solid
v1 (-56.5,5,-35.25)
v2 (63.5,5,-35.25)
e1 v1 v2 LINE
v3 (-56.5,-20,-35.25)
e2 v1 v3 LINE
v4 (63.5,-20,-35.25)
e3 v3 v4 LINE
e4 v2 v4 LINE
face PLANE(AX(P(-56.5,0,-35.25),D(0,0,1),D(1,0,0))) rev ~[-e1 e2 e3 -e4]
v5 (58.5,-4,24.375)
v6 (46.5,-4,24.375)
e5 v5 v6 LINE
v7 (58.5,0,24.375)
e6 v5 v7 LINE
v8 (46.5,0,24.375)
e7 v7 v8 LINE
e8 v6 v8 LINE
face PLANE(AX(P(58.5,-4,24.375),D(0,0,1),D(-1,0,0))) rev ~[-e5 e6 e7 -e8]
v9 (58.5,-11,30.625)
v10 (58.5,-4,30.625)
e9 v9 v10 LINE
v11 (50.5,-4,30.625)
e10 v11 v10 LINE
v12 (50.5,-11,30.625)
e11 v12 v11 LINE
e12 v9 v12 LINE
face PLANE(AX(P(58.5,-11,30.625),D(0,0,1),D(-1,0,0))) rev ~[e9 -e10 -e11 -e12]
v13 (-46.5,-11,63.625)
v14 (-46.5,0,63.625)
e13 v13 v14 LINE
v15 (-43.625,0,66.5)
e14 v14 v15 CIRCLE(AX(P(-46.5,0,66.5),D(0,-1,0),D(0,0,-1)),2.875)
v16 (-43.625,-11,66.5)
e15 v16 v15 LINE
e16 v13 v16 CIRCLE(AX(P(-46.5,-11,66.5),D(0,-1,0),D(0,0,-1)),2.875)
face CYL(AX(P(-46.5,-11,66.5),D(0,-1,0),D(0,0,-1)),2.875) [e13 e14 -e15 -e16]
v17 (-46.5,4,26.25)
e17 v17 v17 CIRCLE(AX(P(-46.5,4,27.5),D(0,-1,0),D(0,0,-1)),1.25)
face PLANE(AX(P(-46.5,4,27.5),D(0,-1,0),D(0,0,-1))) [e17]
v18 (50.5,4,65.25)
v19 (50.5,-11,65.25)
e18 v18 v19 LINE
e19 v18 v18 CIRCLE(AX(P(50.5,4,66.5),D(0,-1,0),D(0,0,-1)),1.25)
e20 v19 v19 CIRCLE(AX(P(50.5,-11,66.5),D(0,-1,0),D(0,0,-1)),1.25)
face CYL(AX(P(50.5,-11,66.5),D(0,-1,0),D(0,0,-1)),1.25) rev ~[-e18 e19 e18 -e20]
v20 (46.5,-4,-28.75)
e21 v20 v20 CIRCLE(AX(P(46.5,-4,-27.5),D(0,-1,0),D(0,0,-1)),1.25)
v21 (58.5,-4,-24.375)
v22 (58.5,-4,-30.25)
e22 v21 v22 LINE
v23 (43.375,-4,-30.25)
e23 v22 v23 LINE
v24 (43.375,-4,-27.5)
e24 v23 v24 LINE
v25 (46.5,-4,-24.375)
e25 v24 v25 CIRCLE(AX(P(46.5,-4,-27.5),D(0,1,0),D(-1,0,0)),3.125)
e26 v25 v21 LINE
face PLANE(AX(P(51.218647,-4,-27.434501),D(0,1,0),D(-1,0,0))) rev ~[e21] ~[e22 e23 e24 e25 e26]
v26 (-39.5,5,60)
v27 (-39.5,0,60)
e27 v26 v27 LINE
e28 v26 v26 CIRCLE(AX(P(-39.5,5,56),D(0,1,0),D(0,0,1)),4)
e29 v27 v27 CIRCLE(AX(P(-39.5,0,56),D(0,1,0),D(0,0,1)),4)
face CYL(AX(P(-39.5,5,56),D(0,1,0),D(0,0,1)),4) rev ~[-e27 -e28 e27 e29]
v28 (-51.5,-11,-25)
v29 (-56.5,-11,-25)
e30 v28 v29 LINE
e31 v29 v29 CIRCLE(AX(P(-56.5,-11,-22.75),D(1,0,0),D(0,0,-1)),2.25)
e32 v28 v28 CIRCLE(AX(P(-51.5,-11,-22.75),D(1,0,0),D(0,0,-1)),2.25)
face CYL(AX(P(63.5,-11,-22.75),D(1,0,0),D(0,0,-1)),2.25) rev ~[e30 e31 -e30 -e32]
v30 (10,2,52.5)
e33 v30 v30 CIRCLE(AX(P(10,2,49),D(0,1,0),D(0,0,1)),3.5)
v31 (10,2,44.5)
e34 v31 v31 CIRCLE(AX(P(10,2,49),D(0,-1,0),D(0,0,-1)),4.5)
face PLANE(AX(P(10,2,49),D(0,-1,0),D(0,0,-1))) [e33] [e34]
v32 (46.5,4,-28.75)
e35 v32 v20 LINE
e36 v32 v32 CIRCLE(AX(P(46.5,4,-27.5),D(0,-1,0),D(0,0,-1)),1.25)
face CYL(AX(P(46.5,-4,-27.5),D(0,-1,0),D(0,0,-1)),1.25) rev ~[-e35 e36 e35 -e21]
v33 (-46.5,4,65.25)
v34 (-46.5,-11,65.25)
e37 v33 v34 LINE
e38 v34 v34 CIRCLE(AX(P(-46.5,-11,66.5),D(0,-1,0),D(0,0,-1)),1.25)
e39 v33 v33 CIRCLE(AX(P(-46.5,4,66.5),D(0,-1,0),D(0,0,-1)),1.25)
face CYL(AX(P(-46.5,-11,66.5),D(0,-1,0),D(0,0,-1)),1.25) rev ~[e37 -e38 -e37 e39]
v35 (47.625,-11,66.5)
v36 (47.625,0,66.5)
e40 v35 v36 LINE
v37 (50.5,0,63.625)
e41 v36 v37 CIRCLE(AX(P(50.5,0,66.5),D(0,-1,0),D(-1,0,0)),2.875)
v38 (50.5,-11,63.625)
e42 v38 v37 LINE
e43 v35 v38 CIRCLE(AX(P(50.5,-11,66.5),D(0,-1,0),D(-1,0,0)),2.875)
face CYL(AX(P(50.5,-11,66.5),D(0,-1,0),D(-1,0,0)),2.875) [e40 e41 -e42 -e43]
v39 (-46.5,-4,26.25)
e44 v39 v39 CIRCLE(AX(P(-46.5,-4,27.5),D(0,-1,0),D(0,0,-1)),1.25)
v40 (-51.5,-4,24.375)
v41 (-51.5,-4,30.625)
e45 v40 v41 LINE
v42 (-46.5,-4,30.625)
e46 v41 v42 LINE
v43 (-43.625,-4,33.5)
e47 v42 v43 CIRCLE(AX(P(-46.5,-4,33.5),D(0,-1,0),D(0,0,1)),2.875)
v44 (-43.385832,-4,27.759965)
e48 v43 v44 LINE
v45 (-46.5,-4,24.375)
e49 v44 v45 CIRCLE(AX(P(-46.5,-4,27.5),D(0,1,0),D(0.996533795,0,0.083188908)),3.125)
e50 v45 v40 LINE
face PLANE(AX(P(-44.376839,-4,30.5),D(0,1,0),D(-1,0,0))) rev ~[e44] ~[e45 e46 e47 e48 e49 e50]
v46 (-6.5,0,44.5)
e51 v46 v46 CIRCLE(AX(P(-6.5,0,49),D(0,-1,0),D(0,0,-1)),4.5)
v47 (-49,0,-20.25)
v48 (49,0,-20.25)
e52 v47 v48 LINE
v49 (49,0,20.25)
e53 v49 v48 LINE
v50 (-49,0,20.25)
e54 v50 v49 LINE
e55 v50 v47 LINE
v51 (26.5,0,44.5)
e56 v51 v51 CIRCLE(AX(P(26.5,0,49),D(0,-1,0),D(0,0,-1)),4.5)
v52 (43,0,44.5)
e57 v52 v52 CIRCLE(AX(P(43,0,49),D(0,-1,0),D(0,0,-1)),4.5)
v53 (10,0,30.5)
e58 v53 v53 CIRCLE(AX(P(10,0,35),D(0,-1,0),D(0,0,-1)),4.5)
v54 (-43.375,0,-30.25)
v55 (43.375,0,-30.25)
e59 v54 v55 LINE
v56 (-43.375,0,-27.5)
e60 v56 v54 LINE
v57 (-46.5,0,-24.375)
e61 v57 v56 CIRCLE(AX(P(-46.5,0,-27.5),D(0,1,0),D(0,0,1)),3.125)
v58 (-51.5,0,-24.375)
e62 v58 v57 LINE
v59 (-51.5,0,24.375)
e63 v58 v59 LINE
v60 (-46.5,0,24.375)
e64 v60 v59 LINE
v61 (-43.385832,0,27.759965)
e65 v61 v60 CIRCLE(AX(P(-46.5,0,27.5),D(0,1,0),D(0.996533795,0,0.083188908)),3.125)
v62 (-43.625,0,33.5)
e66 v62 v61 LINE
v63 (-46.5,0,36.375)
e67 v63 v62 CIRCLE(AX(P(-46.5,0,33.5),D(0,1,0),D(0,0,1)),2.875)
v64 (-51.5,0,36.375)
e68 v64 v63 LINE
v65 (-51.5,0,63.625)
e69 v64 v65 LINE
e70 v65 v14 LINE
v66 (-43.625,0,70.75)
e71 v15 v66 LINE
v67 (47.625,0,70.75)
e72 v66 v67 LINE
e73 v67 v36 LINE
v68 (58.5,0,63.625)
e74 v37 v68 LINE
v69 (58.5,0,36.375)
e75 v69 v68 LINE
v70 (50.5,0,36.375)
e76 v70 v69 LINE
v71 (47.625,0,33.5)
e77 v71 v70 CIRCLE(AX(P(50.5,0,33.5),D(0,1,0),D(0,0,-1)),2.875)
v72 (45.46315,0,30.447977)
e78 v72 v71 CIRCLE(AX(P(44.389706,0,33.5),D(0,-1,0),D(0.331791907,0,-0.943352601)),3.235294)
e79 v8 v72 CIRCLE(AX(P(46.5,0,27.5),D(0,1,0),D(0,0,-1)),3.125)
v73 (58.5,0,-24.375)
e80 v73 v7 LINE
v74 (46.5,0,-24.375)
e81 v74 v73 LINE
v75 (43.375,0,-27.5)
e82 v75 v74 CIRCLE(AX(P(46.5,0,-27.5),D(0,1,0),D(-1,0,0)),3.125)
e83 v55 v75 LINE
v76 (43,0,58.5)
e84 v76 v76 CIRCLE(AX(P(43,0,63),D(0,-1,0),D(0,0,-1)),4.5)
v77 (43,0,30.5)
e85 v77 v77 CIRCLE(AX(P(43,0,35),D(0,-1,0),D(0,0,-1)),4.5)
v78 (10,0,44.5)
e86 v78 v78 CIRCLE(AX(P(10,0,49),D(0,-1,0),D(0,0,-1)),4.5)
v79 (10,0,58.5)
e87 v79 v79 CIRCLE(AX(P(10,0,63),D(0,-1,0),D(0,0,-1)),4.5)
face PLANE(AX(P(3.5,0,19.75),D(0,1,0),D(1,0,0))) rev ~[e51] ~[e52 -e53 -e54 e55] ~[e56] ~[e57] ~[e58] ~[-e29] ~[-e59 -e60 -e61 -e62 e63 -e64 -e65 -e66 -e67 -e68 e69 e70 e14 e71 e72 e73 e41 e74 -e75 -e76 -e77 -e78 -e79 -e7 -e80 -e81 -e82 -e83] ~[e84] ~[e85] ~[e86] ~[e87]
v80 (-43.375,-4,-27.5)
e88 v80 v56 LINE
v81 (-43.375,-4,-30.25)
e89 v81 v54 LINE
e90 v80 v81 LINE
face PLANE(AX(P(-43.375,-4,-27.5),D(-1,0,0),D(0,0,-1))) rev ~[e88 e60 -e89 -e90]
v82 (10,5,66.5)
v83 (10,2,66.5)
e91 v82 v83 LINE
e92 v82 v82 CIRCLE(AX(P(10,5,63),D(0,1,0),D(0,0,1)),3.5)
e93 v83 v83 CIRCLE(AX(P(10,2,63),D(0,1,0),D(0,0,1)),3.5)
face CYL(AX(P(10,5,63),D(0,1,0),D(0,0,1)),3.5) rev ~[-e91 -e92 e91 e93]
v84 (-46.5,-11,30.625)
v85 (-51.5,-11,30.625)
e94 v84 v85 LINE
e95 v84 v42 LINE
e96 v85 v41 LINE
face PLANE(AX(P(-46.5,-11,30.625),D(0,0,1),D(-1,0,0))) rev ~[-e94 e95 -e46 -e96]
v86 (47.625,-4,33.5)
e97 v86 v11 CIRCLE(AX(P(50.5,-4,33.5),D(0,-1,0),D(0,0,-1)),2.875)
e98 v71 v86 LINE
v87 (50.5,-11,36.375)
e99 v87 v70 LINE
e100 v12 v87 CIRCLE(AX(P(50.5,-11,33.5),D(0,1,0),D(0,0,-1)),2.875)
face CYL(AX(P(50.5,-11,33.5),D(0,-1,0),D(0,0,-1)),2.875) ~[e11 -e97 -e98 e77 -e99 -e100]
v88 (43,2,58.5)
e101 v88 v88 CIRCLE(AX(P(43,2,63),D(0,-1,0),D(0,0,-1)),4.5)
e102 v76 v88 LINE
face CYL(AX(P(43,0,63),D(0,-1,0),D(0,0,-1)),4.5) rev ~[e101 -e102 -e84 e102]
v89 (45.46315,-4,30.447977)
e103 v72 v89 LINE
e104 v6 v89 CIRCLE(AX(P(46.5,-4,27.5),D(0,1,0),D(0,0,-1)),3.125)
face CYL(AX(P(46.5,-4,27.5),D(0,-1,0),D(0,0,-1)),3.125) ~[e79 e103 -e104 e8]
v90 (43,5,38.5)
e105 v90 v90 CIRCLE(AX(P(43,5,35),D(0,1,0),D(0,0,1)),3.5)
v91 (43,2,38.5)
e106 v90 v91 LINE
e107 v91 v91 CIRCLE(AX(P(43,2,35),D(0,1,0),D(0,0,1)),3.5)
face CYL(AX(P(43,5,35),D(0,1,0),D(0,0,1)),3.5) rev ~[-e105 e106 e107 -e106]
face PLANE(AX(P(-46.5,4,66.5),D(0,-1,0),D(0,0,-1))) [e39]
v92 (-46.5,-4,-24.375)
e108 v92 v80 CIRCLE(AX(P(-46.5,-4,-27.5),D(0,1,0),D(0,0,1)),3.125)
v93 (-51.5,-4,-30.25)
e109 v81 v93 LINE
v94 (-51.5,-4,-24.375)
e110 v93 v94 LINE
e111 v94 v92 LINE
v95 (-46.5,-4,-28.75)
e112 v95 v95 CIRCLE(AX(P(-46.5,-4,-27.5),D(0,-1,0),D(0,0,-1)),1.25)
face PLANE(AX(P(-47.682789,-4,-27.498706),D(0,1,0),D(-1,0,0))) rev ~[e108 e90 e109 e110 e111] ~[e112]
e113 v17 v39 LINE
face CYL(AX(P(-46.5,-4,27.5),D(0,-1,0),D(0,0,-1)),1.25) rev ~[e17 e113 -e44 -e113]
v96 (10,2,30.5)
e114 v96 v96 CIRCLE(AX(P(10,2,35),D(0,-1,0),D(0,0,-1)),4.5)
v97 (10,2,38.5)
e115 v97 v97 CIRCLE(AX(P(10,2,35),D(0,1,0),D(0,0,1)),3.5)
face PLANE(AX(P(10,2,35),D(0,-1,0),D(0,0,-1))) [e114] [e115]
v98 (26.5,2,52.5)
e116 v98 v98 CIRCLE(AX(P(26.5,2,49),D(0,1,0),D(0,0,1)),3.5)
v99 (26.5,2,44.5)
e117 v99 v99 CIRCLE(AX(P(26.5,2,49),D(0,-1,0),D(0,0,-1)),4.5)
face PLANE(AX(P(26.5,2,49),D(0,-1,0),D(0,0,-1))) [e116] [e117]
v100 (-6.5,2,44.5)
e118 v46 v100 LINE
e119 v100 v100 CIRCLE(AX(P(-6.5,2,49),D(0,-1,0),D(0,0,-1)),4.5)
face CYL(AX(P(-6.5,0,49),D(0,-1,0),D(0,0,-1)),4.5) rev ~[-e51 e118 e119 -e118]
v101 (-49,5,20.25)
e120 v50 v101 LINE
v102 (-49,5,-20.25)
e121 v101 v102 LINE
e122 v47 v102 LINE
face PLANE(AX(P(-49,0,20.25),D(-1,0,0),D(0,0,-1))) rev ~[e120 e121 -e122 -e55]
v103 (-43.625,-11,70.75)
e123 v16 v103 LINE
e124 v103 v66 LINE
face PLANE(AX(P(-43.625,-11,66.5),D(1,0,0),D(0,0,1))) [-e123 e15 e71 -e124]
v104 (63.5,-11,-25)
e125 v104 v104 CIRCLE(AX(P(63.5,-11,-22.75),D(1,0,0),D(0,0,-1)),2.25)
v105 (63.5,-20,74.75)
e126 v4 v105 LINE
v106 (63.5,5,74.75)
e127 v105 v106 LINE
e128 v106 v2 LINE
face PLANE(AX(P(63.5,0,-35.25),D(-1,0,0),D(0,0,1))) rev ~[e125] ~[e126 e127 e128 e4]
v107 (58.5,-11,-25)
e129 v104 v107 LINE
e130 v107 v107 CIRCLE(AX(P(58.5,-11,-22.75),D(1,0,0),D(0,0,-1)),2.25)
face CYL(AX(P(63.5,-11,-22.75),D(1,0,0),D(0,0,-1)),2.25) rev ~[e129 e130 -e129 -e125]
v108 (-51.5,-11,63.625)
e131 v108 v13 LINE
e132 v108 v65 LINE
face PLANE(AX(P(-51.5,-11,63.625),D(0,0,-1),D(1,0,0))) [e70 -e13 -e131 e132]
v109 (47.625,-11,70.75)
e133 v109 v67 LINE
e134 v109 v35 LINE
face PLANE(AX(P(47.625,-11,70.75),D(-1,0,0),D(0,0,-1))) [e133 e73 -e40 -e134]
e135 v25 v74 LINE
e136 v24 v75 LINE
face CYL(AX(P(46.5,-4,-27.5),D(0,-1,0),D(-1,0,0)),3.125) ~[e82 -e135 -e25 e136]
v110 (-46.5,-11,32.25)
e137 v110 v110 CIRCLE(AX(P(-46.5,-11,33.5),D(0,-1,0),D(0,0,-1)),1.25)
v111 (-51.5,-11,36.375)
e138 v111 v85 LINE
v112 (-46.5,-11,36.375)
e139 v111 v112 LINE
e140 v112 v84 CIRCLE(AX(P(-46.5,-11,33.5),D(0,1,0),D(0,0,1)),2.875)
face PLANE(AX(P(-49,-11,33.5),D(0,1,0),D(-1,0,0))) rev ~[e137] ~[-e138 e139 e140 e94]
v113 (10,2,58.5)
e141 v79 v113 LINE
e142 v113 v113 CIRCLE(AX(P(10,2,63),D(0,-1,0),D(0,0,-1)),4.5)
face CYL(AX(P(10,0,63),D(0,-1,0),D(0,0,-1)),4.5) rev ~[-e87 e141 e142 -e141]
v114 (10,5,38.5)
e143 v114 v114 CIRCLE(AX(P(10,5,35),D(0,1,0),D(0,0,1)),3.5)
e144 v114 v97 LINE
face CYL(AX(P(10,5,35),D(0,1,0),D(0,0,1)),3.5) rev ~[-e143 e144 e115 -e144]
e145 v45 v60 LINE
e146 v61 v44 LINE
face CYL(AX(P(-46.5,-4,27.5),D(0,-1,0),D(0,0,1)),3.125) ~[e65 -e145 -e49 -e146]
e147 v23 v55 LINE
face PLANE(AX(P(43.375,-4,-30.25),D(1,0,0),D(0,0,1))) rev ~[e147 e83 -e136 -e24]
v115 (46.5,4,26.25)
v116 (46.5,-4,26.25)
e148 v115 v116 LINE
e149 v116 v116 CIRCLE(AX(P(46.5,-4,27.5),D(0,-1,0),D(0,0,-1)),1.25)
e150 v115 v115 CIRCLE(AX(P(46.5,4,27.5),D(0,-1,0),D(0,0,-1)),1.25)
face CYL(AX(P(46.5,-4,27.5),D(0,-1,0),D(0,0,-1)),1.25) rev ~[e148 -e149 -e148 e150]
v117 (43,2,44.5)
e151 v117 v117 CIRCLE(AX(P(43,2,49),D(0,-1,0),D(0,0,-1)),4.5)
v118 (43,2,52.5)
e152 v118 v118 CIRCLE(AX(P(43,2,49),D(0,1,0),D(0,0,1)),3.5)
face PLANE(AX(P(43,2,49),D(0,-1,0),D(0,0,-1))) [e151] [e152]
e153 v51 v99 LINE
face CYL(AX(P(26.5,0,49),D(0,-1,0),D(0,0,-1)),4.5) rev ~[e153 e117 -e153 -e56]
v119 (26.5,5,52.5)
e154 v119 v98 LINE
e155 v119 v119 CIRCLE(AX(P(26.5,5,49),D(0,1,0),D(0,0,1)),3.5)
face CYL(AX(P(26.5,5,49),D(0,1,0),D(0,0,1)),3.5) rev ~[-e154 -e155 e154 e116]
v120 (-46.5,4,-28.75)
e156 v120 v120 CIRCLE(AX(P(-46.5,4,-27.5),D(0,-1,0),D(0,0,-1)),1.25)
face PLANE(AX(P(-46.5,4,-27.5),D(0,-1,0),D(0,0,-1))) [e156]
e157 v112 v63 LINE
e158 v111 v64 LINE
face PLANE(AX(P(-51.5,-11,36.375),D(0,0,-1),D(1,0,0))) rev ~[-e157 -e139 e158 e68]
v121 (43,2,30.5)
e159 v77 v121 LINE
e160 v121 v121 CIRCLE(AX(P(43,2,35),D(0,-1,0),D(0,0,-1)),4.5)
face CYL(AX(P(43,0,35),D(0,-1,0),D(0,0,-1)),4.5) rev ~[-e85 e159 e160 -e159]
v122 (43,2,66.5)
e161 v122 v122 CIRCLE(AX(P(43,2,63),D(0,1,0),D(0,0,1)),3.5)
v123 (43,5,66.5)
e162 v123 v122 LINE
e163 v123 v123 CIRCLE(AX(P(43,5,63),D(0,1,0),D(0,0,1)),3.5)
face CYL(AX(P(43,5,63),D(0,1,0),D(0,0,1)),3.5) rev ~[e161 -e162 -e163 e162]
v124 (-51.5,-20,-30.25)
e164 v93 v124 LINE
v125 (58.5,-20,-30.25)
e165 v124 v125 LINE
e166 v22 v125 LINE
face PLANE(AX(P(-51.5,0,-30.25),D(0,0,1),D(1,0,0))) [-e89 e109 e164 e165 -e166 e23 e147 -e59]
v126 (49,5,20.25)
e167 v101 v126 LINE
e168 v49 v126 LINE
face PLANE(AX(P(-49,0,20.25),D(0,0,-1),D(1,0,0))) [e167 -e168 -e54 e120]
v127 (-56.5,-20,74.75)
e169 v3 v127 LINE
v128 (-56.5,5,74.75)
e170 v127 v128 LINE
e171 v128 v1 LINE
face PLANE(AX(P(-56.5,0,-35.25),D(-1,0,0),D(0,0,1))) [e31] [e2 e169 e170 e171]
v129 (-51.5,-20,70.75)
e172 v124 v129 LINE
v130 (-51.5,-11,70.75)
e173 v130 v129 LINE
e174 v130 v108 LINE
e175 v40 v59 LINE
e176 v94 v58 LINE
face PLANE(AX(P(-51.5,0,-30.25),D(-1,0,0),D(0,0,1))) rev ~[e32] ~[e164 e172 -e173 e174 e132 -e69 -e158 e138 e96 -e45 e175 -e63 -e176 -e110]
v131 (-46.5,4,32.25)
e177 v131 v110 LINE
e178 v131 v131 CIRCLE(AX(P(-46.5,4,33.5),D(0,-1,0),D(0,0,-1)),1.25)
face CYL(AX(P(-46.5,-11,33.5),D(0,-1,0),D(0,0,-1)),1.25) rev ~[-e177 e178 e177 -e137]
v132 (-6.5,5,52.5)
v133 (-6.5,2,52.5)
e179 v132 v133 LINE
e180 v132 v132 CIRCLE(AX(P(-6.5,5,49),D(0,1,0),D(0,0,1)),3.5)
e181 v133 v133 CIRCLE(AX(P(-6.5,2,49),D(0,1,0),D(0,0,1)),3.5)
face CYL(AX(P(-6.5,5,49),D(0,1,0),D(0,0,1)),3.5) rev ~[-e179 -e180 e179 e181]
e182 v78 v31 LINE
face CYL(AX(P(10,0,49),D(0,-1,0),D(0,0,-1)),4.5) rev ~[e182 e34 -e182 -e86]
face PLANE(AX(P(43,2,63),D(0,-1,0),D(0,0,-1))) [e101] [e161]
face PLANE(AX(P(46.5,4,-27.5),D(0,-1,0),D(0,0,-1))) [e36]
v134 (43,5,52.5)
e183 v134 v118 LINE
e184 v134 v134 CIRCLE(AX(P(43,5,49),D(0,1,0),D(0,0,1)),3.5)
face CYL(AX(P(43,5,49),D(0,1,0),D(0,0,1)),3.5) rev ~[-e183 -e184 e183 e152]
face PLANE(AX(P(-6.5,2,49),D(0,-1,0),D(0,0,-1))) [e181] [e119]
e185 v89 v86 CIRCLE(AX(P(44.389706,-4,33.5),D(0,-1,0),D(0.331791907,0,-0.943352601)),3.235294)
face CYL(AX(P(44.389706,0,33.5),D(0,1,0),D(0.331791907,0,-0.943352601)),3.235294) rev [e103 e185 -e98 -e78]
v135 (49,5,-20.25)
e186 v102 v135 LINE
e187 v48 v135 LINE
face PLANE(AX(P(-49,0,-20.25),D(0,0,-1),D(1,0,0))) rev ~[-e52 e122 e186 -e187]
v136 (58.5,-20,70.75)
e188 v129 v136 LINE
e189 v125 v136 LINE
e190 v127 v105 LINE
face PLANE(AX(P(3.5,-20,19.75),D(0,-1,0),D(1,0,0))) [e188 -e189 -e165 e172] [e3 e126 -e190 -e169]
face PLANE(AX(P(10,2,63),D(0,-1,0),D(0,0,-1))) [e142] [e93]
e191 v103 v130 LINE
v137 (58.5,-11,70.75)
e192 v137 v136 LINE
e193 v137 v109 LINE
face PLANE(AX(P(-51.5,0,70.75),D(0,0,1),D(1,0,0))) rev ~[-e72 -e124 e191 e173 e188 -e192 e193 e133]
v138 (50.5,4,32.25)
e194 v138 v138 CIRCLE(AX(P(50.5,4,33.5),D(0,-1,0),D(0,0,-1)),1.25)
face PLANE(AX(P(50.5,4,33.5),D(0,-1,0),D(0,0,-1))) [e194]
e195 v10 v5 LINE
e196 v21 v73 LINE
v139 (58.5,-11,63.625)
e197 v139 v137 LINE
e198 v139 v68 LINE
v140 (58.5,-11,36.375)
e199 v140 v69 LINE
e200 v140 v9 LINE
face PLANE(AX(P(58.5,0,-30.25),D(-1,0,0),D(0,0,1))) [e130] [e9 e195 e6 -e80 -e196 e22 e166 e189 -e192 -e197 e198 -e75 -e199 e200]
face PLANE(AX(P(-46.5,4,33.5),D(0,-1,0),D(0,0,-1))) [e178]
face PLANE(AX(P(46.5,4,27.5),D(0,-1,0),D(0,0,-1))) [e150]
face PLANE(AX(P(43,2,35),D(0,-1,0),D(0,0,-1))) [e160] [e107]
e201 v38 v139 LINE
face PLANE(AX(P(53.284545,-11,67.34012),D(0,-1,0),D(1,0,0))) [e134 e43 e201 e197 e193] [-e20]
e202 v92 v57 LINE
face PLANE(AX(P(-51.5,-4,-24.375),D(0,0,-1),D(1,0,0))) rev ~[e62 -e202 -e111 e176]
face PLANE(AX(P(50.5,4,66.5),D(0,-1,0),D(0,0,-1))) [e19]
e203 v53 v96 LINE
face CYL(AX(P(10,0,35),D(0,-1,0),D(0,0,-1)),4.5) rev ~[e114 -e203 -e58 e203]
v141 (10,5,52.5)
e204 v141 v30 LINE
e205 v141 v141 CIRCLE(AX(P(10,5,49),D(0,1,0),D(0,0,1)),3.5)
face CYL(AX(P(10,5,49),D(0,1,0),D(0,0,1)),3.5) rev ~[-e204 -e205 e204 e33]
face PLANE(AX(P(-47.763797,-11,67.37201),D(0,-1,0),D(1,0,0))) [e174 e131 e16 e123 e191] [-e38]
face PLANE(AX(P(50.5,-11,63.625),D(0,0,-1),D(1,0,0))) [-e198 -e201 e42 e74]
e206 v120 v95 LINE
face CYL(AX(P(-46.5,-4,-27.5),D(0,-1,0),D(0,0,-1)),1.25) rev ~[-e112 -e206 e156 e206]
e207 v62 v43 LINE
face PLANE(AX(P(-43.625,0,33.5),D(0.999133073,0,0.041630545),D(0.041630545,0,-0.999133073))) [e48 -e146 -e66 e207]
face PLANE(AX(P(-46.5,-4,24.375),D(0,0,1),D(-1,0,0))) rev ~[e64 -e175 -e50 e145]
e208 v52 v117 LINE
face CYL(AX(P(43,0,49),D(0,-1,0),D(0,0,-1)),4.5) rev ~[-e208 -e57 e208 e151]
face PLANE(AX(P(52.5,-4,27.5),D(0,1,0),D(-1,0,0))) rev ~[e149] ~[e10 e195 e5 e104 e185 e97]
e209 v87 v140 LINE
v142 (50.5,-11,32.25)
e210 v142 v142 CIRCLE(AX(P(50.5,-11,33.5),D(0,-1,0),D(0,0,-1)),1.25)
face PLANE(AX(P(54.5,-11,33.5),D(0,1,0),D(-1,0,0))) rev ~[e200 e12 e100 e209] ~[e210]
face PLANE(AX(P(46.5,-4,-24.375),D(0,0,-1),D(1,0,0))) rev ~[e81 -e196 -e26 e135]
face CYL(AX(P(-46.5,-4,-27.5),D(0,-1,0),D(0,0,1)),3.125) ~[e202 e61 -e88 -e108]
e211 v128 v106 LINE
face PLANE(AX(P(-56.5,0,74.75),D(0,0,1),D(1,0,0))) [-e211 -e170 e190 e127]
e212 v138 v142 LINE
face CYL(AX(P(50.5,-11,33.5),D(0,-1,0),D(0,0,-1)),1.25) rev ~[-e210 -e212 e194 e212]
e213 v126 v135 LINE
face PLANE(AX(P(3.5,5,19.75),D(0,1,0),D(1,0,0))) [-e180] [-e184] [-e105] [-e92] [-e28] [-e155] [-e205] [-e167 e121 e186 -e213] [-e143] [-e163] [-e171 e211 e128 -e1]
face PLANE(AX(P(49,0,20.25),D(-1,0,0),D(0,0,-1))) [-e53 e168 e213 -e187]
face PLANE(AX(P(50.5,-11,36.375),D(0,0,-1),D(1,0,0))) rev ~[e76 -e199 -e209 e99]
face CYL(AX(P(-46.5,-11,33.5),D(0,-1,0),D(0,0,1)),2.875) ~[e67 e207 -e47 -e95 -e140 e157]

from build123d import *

# Parameters (mm, degrees)
SKETCH1_W           = 120
SKETCH1_H           = 110
SKETCH1_W_2         = 98
SKETCH1_H_2         = 40.5
BOSS_EXTRUDE1_DEPTH = 5
SKETCH2_R           = 1.25
CUT_EXTRUDE1_DEPTH  = 4
SKETCH3_R           = 3.5
CUT_EXTRUDE2_DEPTH  = 99.208006293
SKETCH4_R           = 4
CUT_EXTRUDE3_DEPTH  = 99.208006293
SKETCH5_R           = 4.5
CUT_EXTRUDE4_DEPTH  = 2
SKETCH6_W           = 120
SKETCH6_H           = 110
SKETCH6_W_2         = 110
SKETCH6_H_2         = 101
BOSS_EXTRUDE3_DEPTH = 20
SKETCH7_R           = 2.25
CUT_EXTRUDE5_DEPTH  = 143.785021974
BOSS_EXTRUDE5_START = 4
SKETCH9_R           = 1.25
BOSS_EXTRUDE5_DEPTH = 4
BOSS_EXTRUDE6_START = 11
SKETCH10_R          = 1.25
BOSS_EXTRUDE6_DEPTH = 11
BOSS_EXTRUDE7_DEPTH = 4


with BuildPart() as part:
    # Sketch1 → Boss-Extrude1 (new body)
    with BuildSketch(Plane(origin=(0, 0, 0), x_dir=(1, 0, 0), z_dir=(0, 1, 0))):
        with Locations((3.5, -19.75)):
            Rectangle(SKETCH1_W, SKETCH1_H)
        Rectangle(SKETCH1_W_2, SKETCH1_H_2, mode=Mode.SUBTRACT)
    extrude(amount=BOSS_EXTRUDE1_DEPTH)

    # Sketch2 → Cut-Extrude1 (cut)
    with BuildSketch(Plane.XZ):
        with Locations(Location((-46.5, 27.5, 0), (0, 0, 270))):
            Circle(SKETCH2_R)
        with Locations(Location((46.5, 27.5, 0), (0, 0, 270))):
            Circle(SKETCH2_R)
        with Locations(Location((46.5, -27.5, 0), (0, 0, 270))):
            Circle(SKETCH2_R)
        with Locations(Location((-46.5, -27.5, 0), (0, 0, 270))):
            Circle(SKETCH2_R)
        with Locations(Location((-46.5, 33.5, 0), (0, 0, 270))):
            Circle(SKETCH2_R)
        with Locations(Location((50.5, 33.5, 0), (0, 0, 270))):
            Circle(SKETCH2_R)
        with Locations(Location((50.5, 66.5, 0), (0, 0, 270))):
            Circle(SKETCH2_R)
        with Locations(Location((-46.5, 66.5, 0), (0, 0, 270))):
            Circle(SKETCH2_R)
    extrude(amount=-CUT_EXTRUDE1_DEPTH, mode=Mode.SUBTRACT)

    # Sketch3 → Cut-Extrude2 (cut, through all)
    with BuildSketch(Plane(origin=(0, 5, 0), x_dir=(1, 0, 0), z_dir=(0, 1, 0))):
        with Locations(Location((43, -35, 0), (0, 0, 270))):
            Circle(SKETCH3_R)
        with Locations(Location((43, -49, 0), (0, 0, 270))):
            Circle(SKETCH3_R)
        with Locations(Location((43, -63, 0), (0, 0, 270))):
            Circle(SKETCH3_R)
        with Locations(Location((26.5, -49, 0), (0, 0, 270))):
            Circle(SKETCH3_R)
        with Locations(Location((10, -49, 0), (0, 0, 270))):
            Circle(SKETCH3_R)
        with Locations(Location((10, -35, 0), (0, 0, 270))):
            Circle(SKETCH3_R)
        with Locations(Location((10, -63, 0), (0, 0, 270))):
            Circle(SKETCH3_R)
        with Locations(Location((-6.5, -49, 0), (0, 0, 270))):
            Circle(SKETCH3_R)
    extrude(amount=-CUT_EXTRUDE2_DEPTH, mode=Mode.SUBTRACT)

    # Sketch4 → Cut-Extrude3 (cut, through all)
    with BuildSketch(Plane(origin=(0, 5, 0), x_dir=(1, 0, 0), z_dir=(0, 1, 0))):
        with Locations(Location((-39.5, -56, 0), (0, 0, 270))):
            Circle(SKETCH4_R)
    extrude(amount=-CUT_EXTRUDE3_DEPTH, mode=Mode.SUBTRACT)

    # Sketch5 → Cut-Extrude4 (cut)
    with BuildSketch(Plane.XZ):
        with Locations(Location((43, 63, 0), (0, 0, 270))):
            Circle(SKETCH5_R)
        with Locations(Location((43, 49, 0), (0, 0, 270))):
            Circle(SKETCH5_R)
        with Locations(Location((43, 35, 0), (0, 0, 270))):
            Circle(SKETCH5_R)
        with Locations(Location((26.5, 49, 0), (0, 0, 270))):
            Circle(SKETCH5_R)
        with Locations(Location((10, 49, 0), (0, 0, 270))):
            Circle(SKETCH5_R)
        with Locations(Location((10, 35, 0), (0, 0, 270))):
            Circle(SKETCH5_R)
        with Locations(Location((-6.5, 49, 0), (0, 0, 270))):
            Circle(SKETCH5_R)
        with Locations(Location((10, 63, 0), (0, 0, 270))):
            Circle(SKETCH5_R)
    extrude(amount=-CUT_EXTRUDE4_DEPTH, mode=Mode.SUBTRACT)

    # Sketch6 → Boss-Extrude3 (add)
    with BuildSketch(Plane.XZ):
        with Locations((3.5, 19.75)):
            Rectangle(SKETCH6_W, SKETCH6_H)
        with Locations((3.5, 20.25)):
            Rectangle(SKETCH6_W_2, SKETCH6_H_2, mode=Mode.SUBTRACT)
    extrude(amount=BOSS_EXTRUDE3_DEPTH)

    # Sketch7 → Cut-Extrude5 (cut, through all)
    with BuildSketch(Plane(origin=(63.5, 0, 0), x_dir=(0, 0, -1), z_dir=(1, 0, 0))):
        with Locations((22.75, -11)):
            Circle(SKETCH7_R)
    extrude(amount=-CUT_EXTRUDE5_DEPTH, mode=Mode.SUBTRACT)

    # Sketch9 → Boss-Extrude5 (add)
    # profile 1 of 4: a face of its own
    with BuildSketch(Plane.XZ.offset(BOSS_EXTRUDE5_START)):
        with BuildLine():
            Line((-51.5, 30.625), (-46.5, 30.625))
            ThreePointArc((-46.5, 30.625), (-43.375, 27.5), (-46.5, 24.375))
            Line((-46.5, 24.375), (-51.5, 24.375))
            Line((-51.5, 24.375), (-51.5, 30.625))
        make_face()
        with Locations(Location((-46.5, 27.5, 0), (0, 0, 270))):
            Circle(SKETCH9_R, mode=Mode.SUBTRACT)
    # profile 2 of 4: a face of its own
    with BuildSketch(Plane.XZ.offset(BOSS_EXTRUDE5_START)):
        with BuildLine():
            Line((46.5, 30.625), (58.5, 30.625))
            ThreePointArc((58.5, 30.625), (61.625, 27.5), (58.5, 24.375))
            Line((58.5, 24.375), (46.5, 24.375))
            ThreePointArc((46.5, 24.375), (43.375, 27.5), (46.5, 30.625))
        make_face()
        with Locations(Location((46.5, 27.5, 0), (0, 0, 270))):
            Circle(SKETCH9_R, mode=Mode.SUBTRACT)
    # profile 3 of 4: a face of its own
    with BuildSketch(Plane.XZ.offset(BOSS_EXTRUDE5_START)):
        with BuildLine():
            Line((-51.5, -24.375), (-46.5, -24.375))
            ThreePointArc((-46.5, -24.375), (-44.290291309, -25.290291309), (-43.375, -27.5))
            Line((-43.375, -27.5), (-43.375, -30.25))
            Line((-43.375, -30.25), (-51.5, -30.25))
            Line((-51.5, -30.25), (-51.5, -24.375))
        make_face()
        with Locations(Location((-46.5, -27.5, 0), (0, 0, 270))):
            Circle(SKETCH9_R, mode=Mode.SUBTRACT)
    # profile 4 of 4: a face of its own
    with BuildSketch(Plane.XZ.offset(BOSS_EXTRUDE5_START)):
        with BuildLine():
            Line((43.375, -30.25), (43.375, -27.5))
            ThreePointArc((43.375, -27.5), (44.290291309, -25.290291309), (46.5, -24.375))
            Line((46.5, -24.375), (58.5, -24.375))
            Line((58.5, -24.375), (58.5, -30.25))
            Line((58.5, -30.25), (43.375, -30.25))
        make_face()
        with Locations(Location((46.5, -27.5, 0), (0, 0, 270))):
            Circle(SKETCH9_R, mode=Mode.SUBTRACT)
    extrude(amount=-BOSS_EXTRUDE5_DEPTH)

    # Sketch10 → Boss-Extrude6 (add)
    # profile 1 of 4: a face of its own
    with BuildSketch(Plane.XZ.offset(BOSS_EXTRUDE6_START)):
        with BuildLine():
            Line((-46.5, 30.625), (-51.5, 30.625))
            ThreePointArc((-51.5, 30.625), (-54.375, 33.5), (-51.5, 36.375))
            Line((-51.5, 36.375), (-46.5, 36.375))
            ThreePointArc((-46.5, 36.375), (-43.625, 33.5), (-46.5, 30.625))
        make_face()
        with Locations(Location((-46.5, 33.5, 0), (0, 0, 270))):
            Circle(SKETCH10_R, mode=Mode.SUBTRACT)
    # profile 2 of 4: a face of its own
    with BuildSketch(Plane.XZ.offset(BOSS_EXTRUDE6_START)):
        with BuildLine():
            Line((50.5, 36.375), (58.5, 36.375))
            ThreePointArc((58.5, 36.375), (61.375, 33.5), (58.5, 30.625))
            Line((58.5, 30.625), (50.5, 30.625))
            ThreePointArc((50.5, 30.625), (47.625, 33.5), (50.5, 36.375))
        make_face()
        with Locations(Location((50.5, 33.5, 0), (0, 0, 270))):
            Circle(SKETCH10_R, mode=Mode.SUBTRACT)
    # profile 3 of 4: a face of its own
    with BuildSketch(Plane.XZ.offset(BOSS_EXTRUDE6_START)):
        with BuildLine():
            Line((-51.5, 63.625), (-46.5, 63.625))
            ThreePointArc((-46.5, 63.625), (-44.467068004, 64.467068004), (-43.625, 66.5))
            Line((-43.625, 66.5), (-43.625, 70.75))
            Line((-43.625, 70.75), (-51.5, 70.75))
            Line((-51.5, 70.75), (-51.5, 63.625))
        make_face()
        with Locations(Location((-46.5, 66.5, 0), (0, 0, 270))):
            Circle(SKETCH10_R, mode=Mode.SUBTRACT)
    # profile 4 of 4: a face of its own
    with BuildSketch(Plane.XZ.offset(BOSS_EXTRUDE6_START)):
        with BuildLine():
            Line((47.625, 70.75), (47.625, 66.5))
            ThreePointArc((47.625, 66.5), (48.467068004, 64.467068004), (50.5, 63.625))
            Line((50.5, 63.625), (58.5, 63.625))
            Line((58.5, 63.625), (58.5, 70.75))
            Line((58.5, 70.75), (47.625, 70.75))
        make_face()
        with Locations(Location((50.5, 66.5, 0), (0, 0, 270))):
            Circle(SKETCH10_R, mode=Mode.SUBTRACT)
    extrude(amount=-BOSS_EXTRUDE6_DEPTH)

    # Sketch11 → Boss-Extrude7 (add)
    with BuildSketch(Plane.XZ):
        Polygon((-43.625, 33.5), (-43.375, 27.5), (-46.5, 30.625), align=None)
        with BuildLine():
            Line((47.625, 33.5), (50.5, 30.625))
            Line((50.5, 30.625), (45.463150289, 30.447976879))
            ThreePointArc((45.463150289, 30.447976879), (47.029785086, 31.629943897), (47.625, 33.5))
        make_face()
    extrude(amount=BOSS_EXTRUDE7_DEPTH)


solid = part.part
